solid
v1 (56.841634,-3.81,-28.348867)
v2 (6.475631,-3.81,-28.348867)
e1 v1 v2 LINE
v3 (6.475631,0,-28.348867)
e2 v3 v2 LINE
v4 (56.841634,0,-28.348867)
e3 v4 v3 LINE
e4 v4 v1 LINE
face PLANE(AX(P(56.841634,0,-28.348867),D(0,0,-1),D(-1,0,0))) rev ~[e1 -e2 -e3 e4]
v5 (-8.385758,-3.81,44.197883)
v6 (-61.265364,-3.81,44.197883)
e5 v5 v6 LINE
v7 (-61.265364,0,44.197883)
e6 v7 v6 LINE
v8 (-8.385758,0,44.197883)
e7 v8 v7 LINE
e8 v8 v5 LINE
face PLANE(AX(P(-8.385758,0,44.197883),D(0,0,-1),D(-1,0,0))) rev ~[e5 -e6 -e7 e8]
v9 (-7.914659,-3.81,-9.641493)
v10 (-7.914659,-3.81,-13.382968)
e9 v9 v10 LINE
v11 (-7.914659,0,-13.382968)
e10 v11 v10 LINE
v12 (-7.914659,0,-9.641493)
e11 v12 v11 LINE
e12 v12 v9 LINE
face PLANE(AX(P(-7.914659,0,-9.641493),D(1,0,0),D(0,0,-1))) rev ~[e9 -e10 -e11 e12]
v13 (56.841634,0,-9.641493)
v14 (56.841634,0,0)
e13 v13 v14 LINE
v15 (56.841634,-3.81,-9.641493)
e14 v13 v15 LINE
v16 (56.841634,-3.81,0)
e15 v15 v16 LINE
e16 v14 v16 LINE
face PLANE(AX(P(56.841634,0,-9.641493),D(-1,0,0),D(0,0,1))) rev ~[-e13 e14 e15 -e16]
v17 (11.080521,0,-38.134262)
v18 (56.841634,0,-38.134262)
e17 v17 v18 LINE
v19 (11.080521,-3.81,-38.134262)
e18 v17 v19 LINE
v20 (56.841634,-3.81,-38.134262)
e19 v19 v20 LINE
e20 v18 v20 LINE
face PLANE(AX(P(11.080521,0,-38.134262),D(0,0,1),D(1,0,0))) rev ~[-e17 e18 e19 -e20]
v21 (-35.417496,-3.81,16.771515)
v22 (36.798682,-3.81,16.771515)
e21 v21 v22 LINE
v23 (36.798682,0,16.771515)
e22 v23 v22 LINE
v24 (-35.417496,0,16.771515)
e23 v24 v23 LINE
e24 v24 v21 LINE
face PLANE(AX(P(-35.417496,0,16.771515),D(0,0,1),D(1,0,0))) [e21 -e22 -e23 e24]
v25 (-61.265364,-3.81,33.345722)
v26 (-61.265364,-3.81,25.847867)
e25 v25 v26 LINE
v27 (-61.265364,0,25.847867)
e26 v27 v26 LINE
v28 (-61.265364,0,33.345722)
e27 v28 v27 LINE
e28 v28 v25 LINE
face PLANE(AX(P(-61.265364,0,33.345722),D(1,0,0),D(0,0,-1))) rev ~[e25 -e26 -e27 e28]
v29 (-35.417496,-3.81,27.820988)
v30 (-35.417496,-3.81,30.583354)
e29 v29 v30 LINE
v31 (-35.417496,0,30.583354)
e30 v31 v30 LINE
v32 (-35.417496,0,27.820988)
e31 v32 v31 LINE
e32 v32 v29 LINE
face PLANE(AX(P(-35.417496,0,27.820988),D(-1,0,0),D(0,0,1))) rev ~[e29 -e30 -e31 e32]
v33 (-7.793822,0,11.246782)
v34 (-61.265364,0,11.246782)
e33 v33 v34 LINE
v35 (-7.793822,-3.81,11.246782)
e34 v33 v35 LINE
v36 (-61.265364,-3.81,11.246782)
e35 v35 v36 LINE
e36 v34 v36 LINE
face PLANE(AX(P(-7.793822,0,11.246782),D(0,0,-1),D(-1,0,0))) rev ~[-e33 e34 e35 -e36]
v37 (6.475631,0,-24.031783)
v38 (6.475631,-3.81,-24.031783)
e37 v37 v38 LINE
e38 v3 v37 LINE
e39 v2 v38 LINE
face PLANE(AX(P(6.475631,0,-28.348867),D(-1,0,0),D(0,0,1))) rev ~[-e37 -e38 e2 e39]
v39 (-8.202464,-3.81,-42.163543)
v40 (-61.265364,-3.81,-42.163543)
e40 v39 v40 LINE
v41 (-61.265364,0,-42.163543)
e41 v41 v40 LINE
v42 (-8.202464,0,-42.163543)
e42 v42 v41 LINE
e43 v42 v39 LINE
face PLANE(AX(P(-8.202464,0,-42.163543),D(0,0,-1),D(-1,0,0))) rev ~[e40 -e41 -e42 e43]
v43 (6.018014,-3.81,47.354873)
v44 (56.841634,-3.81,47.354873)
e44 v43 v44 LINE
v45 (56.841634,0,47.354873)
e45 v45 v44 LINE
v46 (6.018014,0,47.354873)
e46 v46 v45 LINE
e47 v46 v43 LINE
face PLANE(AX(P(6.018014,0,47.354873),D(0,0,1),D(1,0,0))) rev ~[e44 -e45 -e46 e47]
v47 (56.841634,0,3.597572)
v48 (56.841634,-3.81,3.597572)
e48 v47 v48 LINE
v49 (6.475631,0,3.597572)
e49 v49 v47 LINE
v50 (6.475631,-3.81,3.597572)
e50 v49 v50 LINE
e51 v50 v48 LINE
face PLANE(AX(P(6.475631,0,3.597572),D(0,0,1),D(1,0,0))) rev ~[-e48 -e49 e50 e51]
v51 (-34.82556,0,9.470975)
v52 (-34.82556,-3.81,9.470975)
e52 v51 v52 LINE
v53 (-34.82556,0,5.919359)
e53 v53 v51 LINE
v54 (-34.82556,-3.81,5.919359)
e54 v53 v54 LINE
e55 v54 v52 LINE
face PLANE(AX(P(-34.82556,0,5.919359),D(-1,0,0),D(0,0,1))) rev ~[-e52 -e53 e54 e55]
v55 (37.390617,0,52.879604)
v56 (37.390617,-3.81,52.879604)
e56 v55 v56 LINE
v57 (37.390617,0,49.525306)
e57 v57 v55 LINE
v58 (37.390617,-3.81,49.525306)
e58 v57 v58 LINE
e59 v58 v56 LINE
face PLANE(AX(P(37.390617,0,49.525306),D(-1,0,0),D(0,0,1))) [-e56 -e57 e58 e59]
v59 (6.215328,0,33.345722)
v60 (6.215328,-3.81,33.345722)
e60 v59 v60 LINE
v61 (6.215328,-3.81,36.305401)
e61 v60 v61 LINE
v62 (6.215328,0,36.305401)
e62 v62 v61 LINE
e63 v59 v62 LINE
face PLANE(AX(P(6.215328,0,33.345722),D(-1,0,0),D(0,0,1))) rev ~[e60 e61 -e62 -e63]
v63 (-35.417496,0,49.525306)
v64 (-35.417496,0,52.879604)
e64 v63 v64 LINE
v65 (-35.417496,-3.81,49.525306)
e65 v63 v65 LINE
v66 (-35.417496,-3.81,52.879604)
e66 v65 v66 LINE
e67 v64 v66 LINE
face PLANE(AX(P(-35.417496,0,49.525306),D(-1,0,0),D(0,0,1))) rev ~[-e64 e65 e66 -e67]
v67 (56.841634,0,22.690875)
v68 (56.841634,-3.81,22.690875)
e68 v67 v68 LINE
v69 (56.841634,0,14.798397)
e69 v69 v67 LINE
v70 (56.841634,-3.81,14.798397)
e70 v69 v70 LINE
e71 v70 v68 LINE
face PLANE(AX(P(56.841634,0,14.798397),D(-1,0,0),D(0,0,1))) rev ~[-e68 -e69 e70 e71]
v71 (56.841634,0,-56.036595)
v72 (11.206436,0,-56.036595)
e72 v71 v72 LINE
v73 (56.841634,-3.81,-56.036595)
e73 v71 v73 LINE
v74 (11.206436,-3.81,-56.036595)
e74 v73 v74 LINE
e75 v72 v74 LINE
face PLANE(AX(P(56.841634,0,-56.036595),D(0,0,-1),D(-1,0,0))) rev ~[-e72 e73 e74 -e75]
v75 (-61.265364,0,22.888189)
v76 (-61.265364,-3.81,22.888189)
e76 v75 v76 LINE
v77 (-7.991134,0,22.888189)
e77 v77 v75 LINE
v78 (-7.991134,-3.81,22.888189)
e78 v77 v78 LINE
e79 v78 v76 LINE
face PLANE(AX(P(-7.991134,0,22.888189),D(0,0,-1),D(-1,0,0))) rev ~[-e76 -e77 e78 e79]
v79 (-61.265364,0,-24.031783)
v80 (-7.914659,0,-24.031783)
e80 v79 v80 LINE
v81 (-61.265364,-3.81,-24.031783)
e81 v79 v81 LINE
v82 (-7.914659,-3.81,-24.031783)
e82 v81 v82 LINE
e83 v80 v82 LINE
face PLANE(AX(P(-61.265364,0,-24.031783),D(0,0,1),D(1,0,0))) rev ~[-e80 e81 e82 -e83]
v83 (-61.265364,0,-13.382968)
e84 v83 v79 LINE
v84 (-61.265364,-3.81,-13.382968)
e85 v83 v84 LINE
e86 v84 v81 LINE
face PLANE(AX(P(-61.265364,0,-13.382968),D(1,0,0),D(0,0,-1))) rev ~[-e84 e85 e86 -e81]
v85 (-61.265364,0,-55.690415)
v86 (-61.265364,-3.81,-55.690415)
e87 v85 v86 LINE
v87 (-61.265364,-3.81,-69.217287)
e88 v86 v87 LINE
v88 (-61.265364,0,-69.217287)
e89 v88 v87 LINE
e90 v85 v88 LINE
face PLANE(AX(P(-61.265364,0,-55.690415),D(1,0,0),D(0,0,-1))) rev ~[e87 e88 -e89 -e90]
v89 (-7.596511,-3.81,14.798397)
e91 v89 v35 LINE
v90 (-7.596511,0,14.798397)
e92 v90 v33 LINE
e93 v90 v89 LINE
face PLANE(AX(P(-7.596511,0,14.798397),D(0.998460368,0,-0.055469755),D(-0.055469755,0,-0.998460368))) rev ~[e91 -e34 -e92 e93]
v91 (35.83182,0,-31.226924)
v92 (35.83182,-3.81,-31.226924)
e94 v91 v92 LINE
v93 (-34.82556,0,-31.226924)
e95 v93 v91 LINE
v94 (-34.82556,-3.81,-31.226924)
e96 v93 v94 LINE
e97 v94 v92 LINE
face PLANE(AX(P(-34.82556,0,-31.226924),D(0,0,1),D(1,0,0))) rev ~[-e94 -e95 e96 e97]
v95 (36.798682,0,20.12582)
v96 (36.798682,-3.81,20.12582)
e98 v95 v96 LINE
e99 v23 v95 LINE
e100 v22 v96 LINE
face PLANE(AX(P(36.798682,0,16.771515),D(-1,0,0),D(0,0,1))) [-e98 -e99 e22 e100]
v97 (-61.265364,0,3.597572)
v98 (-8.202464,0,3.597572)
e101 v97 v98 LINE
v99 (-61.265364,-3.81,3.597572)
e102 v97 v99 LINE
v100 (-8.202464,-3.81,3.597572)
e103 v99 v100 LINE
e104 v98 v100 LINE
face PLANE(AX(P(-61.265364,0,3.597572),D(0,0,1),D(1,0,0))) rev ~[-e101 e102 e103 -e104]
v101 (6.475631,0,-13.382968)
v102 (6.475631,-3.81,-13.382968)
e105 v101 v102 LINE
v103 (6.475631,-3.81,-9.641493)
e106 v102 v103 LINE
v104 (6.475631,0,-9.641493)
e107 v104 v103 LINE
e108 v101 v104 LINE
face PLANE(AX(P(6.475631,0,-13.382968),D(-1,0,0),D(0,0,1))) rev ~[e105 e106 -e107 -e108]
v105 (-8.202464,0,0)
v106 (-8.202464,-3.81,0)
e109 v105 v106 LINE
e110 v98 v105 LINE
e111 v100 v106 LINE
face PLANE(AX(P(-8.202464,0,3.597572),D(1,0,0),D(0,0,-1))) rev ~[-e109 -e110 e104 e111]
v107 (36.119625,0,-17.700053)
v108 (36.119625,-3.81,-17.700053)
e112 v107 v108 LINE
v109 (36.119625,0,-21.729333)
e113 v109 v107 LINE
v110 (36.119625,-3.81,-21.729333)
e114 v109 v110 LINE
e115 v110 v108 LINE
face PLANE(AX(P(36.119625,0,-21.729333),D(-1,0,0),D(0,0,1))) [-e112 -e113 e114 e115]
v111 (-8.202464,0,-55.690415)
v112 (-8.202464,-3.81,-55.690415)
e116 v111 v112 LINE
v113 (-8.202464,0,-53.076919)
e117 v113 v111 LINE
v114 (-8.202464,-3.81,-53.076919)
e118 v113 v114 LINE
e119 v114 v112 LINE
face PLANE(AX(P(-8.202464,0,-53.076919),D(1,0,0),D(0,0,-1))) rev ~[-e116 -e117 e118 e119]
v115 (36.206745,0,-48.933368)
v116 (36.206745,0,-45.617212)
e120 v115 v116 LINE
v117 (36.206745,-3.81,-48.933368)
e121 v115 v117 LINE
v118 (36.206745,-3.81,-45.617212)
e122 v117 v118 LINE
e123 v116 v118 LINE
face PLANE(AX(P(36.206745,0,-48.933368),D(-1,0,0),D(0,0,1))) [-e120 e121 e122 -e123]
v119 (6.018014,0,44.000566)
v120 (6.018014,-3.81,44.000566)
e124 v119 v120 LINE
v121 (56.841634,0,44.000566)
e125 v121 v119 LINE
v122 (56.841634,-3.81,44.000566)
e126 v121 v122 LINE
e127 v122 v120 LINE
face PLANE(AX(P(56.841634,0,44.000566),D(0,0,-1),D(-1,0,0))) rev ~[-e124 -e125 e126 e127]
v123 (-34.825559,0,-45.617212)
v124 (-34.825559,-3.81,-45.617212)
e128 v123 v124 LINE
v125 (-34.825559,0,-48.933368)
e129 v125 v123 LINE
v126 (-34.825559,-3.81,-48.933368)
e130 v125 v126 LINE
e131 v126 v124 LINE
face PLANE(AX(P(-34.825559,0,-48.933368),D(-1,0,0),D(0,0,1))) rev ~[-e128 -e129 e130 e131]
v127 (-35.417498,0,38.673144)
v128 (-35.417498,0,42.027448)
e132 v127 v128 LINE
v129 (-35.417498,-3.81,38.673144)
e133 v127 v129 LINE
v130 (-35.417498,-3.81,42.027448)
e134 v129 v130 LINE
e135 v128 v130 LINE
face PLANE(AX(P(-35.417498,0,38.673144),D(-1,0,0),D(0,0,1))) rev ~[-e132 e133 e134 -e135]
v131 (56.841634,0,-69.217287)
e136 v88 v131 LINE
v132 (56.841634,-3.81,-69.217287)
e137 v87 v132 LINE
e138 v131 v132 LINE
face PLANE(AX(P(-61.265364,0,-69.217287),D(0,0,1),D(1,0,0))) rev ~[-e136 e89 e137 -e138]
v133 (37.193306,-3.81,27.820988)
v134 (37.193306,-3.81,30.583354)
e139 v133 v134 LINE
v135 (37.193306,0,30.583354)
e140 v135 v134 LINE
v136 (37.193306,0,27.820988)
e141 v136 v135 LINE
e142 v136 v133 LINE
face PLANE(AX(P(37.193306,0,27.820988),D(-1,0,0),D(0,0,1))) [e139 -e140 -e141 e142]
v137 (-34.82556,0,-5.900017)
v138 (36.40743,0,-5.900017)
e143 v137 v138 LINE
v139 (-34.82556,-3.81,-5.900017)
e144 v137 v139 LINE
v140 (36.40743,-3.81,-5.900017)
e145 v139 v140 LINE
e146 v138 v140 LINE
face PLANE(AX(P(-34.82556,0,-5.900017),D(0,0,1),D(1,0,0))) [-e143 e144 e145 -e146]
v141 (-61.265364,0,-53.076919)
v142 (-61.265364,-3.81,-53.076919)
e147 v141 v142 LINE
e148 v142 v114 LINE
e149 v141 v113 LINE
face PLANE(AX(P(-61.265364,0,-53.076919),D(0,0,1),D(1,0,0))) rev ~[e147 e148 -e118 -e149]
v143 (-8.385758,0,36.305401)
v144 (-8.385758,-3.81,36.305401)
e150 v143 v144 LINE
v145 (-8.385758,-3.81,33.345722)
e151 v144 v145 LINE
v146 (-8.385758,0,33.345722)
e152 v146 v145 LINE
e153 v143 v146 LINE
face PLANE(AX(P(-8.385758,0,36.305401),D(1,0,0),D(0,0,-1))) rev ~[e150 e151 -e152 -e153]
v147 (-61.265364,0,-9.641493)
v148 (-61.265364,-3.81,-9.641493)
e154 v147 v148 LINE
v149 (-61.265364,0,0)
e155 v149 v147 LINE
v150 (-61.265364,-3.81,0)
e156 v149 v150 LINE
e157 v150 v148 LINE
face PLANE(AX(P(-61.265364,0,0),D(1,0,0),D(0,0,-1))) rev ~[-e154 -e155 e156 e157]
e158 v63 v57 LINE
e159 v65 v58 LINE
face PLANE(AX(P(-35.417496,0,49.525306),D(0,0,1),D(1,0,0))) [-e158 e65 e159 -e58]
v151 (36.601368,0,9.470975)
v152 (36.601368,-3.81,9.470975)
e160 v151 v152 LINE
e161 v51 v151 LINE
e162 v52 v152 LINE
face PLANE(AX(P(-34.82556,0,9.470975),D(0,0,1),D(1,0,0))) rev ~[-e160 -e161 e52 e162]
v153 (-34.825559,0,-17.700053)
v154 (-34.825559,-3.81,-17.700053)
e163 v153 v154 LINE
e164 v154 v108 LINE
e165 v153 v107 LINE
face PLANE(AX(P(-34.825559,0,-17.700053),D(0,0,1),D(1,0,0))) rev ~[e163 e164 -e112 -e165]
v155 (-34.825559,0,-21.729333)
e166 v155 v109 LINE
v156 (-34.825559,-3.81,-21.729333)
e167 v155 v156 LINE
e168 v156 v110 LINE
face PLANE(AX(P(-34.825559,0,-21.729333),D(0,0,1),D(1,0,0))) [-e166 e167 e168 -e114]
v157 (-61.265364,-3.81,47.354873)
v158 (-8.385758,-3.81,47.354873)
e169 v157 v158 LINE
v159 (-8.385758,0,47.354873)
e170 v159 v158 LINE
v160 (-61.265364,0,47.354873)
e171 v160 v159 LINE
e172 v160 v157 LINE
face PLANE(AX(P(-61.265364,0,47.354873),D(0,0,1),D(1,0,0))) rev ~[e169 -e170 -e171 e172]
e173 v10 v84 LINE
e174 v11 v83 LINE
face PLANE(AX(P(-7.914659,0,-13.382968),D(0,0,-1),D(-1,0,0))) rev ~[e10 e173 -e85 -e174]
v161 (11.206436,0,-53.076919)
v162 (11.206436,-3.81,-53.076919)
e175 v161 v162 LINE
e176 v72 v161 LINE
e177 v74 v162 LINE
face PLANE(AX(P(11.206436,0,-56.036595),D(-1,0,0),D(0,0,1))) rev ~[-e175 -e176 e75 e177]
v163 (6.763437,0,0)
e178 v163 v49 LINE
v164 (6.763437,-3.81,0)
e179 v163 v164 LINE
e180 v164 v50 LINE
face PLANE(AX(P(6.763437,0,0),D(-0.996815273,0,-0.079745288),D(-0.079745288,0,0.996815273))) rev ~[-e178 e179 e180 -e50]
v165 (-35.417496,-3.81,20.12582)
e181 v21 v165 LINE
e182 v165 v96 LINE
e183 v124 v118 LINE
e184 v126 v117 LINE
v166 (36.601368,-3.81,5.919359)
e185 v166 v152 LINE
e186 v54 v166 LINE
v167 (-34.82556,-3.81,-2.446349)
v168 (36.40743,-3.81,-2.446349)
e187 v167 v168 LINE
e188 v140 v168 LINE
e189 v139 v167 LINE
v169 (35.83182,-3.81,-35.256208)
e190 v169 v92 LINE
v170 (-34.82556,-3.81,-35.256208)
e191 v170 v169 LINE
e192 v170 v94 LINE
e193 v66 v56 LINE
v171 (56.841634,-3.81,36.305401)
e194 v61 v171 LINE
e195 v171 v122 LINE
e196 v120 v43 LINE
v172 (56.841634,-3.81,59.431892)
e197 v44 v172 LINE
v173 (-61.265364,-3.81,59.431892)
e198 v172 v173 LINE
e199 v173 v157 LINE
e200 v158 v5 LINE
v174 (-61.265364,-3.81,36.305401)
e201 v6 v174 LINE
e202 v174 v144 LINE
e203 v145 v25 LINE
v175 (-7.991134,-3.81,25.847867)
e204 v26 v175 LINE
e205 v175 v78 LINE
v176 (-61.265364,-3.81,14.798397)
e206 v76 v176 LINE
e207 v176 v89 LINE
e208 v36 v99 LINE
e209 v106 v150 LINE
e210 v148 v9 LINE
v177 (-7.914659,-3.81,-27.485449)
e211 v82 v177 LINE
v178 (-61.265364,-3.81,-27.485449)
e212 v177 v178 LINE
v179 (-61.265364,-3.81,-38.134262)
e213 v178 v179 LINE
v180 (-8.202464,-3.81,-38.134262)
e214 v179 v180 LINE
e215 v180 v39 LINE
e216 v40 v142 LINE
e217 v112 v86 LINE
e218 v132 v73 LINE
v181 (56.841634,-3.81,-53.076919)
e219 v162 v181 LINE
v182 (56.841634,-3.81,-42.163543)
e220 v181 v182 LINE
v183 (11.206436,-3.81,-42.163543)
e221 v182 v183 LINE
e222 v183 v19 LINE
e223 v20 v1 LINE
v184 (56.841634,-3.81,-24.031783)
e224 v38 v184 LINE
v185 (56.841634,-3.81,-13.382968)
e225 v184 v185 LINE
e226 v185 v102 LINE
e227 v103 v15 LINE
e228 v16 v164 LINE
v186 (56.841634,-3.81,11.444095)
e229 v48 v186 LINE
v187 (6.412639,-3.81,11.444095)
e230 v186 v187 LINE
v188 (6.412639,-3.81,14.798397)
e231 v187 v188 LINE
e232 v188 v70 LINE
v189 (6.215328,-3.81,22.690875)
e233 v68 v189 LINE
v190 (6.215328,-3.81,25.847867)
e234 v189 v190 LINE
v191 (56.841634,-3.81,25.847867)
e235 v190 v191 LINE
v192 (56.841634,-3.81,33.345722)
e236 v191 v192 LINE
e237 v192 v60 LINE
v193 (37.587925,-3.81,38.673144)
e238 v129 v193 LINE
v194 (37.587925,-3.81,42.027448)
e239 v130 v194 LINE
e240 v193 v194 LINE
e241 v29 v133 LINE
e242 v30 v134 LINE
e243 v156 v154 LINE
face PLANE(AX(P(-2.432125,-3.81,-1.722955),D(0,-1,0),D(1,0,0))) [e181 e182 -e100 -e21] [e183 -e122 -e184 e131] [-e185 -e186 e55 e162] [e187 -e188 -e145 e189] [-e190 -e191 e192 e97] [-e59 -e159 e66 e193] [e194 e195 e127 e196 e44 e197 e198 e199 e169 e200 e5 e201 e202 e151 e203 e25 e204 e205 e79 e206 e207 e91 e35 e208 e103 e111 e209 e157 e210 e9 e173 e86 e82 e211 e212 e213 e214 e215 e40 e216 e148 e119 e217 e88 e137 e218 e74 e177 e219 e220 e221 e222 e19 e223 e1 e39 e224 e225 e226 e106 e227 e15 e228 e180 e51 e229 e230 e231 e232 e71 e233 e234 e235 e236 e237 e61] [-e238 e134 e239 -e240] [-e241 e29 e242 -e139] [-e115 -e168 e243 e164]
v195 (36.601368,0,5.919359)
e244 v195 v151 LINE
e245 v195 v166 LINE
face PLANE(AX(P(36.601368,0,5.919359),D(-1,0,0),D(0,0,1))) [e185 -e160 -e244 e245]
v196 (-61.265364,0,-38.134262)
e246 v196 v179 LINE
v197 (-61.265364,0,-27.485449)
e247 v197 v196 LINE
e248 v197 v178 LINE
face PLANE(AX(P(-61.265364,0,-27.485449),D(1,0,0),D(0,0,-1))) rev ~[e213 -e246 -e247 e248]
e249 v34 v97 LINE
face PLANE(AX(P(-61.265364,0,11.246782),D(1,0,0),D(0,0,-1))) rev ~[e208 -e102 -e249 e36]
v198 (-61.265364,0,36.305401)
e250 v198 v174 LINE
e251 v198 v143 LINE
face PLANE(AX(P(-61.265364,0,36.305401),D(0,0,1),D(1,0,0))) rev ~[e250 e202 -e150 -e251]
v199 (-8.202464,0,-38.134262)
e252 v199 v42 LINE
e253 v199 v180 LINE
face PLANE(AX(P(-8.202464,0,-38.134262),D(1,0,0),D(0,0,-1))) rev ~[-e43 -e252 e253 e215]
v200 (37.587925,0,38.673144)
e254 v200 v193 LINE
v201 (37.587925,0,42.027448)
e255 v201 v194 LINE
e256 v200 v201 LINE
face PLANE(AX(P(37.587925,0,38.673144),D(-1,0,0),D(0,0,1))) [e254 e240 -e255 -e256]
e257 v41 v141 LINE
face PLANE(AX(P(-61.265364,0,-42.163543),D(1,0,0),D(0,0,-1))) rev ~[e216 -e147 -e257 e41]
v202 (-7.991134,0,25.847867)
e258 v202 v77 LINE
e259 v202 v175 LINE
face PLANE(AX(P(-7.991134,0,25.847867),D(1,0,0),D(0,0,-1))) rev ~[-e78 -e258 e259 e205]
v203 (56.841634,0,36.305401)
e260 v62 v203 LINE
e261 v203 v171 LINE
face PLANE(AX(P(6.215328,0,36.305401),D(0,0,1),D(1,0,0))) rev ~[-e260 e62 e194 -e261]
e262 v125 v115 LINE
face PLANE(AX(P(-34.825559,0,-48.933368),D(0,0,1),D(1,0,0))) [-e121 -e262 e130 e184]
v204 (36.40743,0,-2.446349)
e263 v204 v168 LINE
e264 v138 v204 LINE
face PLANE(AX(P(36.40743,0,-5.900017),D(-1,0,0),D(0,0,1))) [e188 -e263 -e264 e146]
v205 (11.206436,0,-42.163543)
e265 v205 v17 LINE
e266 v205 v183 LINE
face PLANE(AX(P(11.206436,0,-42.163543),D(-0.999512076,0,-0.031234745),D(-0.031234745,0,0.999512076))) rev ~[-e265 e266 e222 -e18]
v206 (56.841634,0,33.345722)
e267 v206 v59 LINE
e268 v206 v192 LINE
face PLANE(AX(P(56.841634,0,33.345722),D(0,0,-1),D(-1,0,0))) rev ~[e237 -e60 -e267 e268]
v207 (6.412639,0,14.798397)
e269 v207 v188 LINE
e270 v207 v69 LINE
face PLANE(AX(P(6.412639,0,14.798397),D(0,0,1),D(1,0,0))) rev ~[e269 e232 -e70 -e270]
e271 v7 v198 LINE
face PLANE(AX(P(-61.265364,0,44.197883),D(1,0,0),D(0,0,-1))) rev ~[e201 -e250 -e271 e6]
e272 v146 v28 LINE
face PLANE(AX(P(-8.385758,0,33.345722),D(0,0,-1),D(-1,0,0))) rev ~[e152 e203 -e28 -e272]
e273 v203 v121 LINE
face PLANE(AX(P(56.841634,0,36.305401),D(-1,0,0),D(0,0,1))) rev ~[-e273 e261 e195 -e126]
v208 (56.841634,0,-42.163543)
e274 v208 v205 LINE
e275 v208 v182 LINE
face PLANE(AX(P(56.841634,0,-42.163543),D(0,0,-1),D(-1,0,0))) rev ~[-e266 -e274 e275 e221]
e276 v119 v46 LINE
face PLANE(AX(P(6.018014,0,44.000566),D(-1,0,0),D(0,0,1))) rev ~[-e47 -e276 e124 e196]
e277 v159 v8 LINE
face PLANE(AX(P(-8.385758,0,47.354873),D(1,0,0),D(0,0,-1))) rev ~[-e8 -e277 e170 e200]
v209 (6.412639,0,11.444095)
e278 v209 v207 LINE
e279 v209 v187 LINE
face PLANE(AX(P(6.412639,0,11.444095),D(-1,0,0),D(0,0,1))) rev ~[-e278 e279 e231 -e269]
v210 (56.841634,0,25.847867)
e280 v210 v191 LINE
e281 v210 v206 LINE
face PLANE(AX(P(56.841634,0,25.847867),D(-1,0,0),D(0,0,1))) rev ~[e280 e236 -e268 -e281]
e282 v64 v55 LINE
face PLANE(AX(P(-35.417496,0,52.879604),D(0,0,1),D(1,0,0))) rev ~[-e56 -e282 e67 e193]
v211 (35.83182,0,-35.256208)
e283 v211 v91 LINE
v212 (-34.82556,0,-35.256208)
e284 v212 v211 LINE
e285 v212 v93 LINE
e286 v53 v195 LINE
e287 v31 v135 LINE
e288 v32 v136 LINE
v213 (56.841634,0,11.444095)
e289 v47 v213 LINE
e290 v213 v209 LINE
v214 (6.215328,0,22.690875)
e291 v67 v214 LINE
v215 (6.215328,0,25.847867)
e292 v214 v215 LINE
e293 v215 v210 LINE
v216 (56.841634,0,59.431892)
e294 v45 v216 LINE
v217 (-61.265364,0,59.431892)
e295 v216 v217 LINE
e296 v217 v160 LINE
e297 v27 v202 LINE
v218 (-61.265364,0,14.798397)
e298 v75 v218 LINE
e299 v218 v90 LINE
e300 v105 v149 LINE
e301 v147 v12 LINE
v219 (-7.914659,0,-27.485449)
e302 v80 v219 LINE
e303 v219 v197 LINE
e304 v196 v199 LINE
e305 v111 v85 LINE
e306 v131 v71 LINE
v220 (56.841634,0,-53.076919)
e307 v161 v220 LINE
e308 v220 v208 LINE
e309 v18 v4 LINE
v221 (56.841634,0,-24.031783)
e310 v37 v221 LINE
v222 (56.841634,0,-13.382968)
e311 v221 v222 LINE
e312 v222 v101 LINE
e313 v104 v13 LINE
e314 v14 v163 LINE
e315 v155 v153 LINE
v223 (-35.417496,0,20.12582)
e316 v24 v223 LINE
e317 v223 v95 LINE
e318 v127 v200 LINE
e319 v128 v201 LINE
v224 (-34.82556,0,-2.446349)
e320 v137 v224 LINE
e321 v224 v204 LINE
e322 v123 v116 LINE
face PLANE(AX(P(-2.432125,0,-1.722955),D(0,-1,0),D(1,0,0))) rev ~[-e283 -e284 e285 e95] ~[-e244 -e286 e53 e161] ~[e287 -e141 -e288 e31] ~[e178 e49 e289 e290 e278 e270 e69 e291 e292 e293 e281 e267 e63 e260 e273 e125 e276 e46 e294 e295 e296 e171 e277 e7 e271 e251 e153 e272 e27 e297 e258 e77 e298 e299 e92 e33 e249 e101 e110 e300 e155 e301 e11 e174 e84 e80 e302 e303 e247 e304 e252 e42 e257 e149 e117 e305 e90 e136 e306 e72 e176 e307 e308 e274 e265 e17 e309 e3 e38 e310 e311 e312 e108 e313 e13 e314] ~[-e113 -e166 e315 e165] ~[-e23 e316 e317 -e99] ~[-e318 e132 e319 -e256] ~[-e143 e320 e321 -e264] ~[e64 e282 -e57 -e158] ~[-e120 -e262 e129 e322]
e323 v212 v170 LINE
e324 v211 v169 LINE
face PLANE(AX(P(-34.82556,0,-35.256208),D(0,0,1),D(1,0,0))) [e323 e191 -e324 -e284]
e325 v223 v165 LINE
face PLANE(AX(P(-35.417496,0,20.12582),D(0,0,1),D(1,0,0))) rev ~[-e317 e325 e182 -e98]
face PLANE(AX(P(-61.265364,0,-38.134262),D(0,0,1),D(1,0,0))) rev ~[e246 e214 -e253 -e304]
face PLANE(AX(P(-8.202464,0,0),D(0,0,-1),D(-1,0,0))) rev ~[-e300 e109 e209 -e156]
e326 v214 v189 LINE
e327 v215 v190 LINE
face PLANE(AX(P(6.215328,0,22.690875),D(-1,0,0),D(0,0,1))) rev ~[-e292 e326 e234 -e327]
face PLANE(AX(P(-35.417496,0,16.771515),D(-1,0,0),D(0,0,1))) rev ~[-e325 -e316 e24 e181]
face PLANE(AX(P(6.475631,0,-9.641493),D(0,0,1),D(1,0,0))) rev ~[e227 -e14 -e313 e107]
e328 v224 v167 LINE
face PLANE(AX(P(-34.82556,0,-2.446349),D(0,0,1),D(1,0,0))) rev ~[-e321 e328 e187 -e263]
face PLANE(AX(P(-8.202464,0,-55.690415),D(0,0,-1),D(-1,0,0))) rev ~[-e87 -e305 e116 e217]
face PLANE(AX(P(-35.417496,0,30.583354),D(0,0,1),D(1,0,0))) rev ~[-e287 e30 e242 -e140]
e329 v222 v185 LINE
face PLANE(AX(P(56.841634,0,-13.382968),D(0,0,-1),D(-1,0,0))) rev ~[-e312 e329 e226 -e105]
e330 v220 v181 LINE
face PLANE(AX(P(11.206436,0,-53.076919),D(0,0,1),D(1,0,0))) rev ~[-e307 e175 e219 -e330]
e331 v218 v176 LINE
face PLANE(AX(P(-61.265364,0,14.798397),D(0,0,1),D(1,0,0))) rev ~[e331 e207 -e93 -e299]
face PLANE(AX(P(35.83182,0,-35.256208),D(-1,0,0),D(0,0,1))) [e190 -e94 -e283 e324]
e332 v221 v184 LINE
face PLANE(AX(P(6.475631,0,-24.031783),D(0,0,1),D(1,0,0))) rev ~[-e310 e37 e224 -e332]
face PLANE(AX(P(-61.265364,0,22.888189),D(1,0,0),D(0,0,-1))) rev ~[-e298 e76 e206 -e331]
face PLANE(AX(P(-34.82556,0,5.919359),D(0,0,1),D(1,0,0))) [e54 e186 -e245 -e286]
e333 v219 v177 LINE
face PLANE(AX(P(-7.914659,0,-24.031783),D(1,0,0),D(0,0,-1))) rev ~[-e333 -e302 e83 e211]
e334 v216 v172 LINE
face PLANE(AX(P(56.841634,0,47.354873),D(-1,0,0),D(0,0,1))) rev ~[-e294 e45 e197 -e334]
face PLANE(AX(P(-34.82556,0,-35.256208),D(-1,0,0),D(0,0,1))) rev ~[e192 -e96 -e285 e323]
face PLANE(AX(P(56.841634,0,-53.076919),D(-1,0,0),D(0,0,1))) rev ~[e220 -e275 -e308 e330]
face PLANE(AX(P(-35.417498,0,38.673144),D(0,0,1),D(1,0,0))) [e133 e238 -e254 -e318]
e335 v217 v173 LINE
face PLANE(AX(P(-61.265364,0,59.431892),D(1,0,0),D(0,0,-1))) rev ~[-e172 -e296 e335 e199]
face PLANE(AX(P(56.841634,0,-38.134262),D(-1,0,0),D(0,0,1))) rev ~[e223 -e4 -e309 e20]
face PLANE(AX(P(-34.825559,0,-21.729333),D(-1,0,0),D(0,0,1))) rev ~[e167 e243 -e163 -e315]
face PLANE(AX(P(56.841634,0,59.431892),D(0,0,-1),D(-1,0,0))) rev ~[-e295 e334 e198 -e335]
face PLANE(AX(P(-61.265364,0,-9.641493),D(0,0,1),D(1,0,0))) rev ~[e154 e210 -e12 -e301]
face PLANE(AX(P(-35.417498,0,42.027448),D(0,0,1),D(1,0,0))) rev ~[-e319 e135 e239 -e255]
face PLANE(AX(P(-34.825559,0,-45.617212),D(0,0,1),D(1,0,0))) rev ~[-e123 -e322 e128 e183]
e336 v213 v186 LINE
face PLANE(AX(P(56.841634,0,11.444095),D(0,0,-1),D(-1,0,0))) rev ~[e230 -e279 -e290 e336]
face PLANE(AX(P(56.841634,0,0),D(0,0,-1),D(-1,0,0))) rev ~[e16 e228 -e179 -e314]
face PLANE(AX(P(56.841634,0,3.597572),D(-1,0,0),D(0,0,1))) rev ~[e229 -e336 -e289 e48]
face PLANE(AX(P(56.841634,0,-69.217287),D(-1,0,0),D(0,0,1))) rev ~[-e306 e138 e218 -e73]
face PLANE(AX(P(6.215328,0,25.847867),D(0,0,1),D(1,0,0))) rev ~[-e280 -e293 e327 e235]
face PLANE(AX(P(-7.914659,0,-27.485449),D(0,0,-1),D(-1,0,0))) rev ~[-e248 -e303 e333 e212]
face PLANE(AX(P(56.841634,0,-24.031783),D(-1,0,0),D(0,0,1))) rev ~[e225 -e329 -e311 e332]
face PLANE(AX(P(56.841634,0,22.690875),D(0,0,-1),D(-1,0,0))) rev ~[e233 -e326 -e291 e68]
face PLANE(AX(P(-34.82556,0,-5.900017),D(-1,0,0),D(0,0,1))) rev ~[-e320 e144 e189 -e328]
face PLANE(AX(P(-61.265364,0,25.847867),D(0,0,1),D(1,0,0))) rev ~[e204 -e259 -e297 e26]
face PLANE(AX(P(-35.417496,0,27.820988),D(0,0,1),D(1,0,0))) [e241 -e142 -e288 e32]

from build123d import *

# Parameters (mm, degrees)
F0_W     = 71.032305
F0_H     = 3.316156
F0_W_2   = 70.65738
F0_H_2   = 4.029283
F0_W_3   = 70.945185
F0_H_3   = 4.029279
F0_W_4   = 71.23299
F0_H_4   = 3.453669
F0_W_5   = 71.426928
F0_H_5   = 3.551615
F0_W_6   = 72.216179
F0_H_6   = 3.354305
F0_W_7   = 72.610803
F0_H_7   = 2.762366
F0_W_8   = 73.005423
F0_H_8   = 3.354303
F0_W_9   = 72.808113
F0_H_9   = 3.354299
F1_DEPTH = 3.81


with BuildPart() as f1:
    # F0 (on Front) → F1 (new body)
    with BuildSketch(Plane.XZ):
        Polygon((56.841634, 59.431892), (-61.265364, 59.431892), (-61.265364, 47.354873), (-8.385758, 47.354873), (-8.385758, 44.197883), (-61.265364, 44.197883), (-61.265364, 36.305401), (-8.385758, 36.305401), (-8.385758, 33.345722), (-61.265364, 33.345722), (-61.265364, 25.847867), (-7.991134, 25.847867), (-7.991134, 22.888189), (-61.265364, 22.888189), (-61.265364, 14.798397), (-7.596511, 14.798397), (-7.793822, 11.246782), (-61.265364, 11.246782), (-61.265364, 3.597572), (-8.202464, 3.597572), (-8.202464, 0), (-61.265364, 0), (-61.265364, -9.641493), (-7.914659, -9.641493), (-7.914659, -13.382968), (-61.265364, -13.382968), (-61.265364, -24.031783), (-7.914659, -24.031783), (-7.914659, -27.485449), (-61.265364, -27.485449), (-61.265364, -38.134262), (-8.202464, -38.134262), (-8.202464, -42.163543), (-61.265364, -42.163543), (-61.265364, -53.076919), (-8.202464, -53.076919), (-8.202464, -55.690415), (-61.265364, -55.690415), (-61.265364, -69.217287), (56.841634, -69.217287), (56.841634, -56.036595), (11.206436, -56.036595), (11.206436, -53.076919), (56.841634, -53.076919), (56.841634, -42.163543), (11.206436, -42.163543), (11.080521, -38.134262), (56.841634, -38.134262), (56.841634, -28.348867), (6.475631, -28.348867), (6.475631, -24.031783), (56.841634, -24.031783), (56.841634, -13.382968), (6.475631, -13.382968), (6.475631, -9.641493), (56.841634, -9.641493), (56.841634, 0), (6.763437, 0), (6.475631, 3.597572), (56.841634, 3.597572), (56.841634, 11.444095), (6.412639, 11.444095), (6.412639, 14.798397), (56.841634, 14.798397), (56.841634, 22.690875), (6.215328, 22.690875), (6.215328, 25.847867), (56.841634, 25.847867), (56.841634, 33.345722), (6.215328, 33.345722), (6.215328, 36.305401), (56.841634, 36.305401), (56.841634, 44.000566), (6.018014, 44.000566), (6.018014, 47.354873), (56.841634, 47.354873), align=None)
        with Locations((0.690593, -47.27529)):
            Rectangle(F0_W, F0_H, mode=Mode.SUBTRACT)
        with Locations((0.50313, -33.241566)):
            Rectangle(F0_W_2, F0_H_2, mode=Mode.SUBTRACT)
        with Locations((0.647033, -19.714693)):
            Rectangle(F0_W_3, F0_H_3, mode=Mode.SUBTRACT)
        with Locations((0.790935, -4.173183)):
            Rectangle(F0_W_4, F0_H_4, mode=Mode.SUBTRACT)
        with Locations((0.887904, 7.695167)):
            Rectangle(F0_W_5, F0_H_5, mode=Mode.SUBTRACT)
        with Locations((0.690593, 18.448668)):
            Rectangle(F0_W_6, F0_H_6, mode=Mode.SUBTRACT)
        with Locations((0.887905, 29.202171)):
            Rectangle(F0_W_7, F0_H_7, mode=Mode.SUBTRACT)
        with Locations((1.085214, 40.350296)):
            Rectangle(F0_W_8, F0_H_8, mode=Mode.SUBTRACT)
        with Locations((0.98656, 51.202455)):
            Rectangle(F0_W_9, F0_H_9, mode=Mode.SUBTRACT)
    extrude(amount=F1_DEPTH)


solid = f1.part
